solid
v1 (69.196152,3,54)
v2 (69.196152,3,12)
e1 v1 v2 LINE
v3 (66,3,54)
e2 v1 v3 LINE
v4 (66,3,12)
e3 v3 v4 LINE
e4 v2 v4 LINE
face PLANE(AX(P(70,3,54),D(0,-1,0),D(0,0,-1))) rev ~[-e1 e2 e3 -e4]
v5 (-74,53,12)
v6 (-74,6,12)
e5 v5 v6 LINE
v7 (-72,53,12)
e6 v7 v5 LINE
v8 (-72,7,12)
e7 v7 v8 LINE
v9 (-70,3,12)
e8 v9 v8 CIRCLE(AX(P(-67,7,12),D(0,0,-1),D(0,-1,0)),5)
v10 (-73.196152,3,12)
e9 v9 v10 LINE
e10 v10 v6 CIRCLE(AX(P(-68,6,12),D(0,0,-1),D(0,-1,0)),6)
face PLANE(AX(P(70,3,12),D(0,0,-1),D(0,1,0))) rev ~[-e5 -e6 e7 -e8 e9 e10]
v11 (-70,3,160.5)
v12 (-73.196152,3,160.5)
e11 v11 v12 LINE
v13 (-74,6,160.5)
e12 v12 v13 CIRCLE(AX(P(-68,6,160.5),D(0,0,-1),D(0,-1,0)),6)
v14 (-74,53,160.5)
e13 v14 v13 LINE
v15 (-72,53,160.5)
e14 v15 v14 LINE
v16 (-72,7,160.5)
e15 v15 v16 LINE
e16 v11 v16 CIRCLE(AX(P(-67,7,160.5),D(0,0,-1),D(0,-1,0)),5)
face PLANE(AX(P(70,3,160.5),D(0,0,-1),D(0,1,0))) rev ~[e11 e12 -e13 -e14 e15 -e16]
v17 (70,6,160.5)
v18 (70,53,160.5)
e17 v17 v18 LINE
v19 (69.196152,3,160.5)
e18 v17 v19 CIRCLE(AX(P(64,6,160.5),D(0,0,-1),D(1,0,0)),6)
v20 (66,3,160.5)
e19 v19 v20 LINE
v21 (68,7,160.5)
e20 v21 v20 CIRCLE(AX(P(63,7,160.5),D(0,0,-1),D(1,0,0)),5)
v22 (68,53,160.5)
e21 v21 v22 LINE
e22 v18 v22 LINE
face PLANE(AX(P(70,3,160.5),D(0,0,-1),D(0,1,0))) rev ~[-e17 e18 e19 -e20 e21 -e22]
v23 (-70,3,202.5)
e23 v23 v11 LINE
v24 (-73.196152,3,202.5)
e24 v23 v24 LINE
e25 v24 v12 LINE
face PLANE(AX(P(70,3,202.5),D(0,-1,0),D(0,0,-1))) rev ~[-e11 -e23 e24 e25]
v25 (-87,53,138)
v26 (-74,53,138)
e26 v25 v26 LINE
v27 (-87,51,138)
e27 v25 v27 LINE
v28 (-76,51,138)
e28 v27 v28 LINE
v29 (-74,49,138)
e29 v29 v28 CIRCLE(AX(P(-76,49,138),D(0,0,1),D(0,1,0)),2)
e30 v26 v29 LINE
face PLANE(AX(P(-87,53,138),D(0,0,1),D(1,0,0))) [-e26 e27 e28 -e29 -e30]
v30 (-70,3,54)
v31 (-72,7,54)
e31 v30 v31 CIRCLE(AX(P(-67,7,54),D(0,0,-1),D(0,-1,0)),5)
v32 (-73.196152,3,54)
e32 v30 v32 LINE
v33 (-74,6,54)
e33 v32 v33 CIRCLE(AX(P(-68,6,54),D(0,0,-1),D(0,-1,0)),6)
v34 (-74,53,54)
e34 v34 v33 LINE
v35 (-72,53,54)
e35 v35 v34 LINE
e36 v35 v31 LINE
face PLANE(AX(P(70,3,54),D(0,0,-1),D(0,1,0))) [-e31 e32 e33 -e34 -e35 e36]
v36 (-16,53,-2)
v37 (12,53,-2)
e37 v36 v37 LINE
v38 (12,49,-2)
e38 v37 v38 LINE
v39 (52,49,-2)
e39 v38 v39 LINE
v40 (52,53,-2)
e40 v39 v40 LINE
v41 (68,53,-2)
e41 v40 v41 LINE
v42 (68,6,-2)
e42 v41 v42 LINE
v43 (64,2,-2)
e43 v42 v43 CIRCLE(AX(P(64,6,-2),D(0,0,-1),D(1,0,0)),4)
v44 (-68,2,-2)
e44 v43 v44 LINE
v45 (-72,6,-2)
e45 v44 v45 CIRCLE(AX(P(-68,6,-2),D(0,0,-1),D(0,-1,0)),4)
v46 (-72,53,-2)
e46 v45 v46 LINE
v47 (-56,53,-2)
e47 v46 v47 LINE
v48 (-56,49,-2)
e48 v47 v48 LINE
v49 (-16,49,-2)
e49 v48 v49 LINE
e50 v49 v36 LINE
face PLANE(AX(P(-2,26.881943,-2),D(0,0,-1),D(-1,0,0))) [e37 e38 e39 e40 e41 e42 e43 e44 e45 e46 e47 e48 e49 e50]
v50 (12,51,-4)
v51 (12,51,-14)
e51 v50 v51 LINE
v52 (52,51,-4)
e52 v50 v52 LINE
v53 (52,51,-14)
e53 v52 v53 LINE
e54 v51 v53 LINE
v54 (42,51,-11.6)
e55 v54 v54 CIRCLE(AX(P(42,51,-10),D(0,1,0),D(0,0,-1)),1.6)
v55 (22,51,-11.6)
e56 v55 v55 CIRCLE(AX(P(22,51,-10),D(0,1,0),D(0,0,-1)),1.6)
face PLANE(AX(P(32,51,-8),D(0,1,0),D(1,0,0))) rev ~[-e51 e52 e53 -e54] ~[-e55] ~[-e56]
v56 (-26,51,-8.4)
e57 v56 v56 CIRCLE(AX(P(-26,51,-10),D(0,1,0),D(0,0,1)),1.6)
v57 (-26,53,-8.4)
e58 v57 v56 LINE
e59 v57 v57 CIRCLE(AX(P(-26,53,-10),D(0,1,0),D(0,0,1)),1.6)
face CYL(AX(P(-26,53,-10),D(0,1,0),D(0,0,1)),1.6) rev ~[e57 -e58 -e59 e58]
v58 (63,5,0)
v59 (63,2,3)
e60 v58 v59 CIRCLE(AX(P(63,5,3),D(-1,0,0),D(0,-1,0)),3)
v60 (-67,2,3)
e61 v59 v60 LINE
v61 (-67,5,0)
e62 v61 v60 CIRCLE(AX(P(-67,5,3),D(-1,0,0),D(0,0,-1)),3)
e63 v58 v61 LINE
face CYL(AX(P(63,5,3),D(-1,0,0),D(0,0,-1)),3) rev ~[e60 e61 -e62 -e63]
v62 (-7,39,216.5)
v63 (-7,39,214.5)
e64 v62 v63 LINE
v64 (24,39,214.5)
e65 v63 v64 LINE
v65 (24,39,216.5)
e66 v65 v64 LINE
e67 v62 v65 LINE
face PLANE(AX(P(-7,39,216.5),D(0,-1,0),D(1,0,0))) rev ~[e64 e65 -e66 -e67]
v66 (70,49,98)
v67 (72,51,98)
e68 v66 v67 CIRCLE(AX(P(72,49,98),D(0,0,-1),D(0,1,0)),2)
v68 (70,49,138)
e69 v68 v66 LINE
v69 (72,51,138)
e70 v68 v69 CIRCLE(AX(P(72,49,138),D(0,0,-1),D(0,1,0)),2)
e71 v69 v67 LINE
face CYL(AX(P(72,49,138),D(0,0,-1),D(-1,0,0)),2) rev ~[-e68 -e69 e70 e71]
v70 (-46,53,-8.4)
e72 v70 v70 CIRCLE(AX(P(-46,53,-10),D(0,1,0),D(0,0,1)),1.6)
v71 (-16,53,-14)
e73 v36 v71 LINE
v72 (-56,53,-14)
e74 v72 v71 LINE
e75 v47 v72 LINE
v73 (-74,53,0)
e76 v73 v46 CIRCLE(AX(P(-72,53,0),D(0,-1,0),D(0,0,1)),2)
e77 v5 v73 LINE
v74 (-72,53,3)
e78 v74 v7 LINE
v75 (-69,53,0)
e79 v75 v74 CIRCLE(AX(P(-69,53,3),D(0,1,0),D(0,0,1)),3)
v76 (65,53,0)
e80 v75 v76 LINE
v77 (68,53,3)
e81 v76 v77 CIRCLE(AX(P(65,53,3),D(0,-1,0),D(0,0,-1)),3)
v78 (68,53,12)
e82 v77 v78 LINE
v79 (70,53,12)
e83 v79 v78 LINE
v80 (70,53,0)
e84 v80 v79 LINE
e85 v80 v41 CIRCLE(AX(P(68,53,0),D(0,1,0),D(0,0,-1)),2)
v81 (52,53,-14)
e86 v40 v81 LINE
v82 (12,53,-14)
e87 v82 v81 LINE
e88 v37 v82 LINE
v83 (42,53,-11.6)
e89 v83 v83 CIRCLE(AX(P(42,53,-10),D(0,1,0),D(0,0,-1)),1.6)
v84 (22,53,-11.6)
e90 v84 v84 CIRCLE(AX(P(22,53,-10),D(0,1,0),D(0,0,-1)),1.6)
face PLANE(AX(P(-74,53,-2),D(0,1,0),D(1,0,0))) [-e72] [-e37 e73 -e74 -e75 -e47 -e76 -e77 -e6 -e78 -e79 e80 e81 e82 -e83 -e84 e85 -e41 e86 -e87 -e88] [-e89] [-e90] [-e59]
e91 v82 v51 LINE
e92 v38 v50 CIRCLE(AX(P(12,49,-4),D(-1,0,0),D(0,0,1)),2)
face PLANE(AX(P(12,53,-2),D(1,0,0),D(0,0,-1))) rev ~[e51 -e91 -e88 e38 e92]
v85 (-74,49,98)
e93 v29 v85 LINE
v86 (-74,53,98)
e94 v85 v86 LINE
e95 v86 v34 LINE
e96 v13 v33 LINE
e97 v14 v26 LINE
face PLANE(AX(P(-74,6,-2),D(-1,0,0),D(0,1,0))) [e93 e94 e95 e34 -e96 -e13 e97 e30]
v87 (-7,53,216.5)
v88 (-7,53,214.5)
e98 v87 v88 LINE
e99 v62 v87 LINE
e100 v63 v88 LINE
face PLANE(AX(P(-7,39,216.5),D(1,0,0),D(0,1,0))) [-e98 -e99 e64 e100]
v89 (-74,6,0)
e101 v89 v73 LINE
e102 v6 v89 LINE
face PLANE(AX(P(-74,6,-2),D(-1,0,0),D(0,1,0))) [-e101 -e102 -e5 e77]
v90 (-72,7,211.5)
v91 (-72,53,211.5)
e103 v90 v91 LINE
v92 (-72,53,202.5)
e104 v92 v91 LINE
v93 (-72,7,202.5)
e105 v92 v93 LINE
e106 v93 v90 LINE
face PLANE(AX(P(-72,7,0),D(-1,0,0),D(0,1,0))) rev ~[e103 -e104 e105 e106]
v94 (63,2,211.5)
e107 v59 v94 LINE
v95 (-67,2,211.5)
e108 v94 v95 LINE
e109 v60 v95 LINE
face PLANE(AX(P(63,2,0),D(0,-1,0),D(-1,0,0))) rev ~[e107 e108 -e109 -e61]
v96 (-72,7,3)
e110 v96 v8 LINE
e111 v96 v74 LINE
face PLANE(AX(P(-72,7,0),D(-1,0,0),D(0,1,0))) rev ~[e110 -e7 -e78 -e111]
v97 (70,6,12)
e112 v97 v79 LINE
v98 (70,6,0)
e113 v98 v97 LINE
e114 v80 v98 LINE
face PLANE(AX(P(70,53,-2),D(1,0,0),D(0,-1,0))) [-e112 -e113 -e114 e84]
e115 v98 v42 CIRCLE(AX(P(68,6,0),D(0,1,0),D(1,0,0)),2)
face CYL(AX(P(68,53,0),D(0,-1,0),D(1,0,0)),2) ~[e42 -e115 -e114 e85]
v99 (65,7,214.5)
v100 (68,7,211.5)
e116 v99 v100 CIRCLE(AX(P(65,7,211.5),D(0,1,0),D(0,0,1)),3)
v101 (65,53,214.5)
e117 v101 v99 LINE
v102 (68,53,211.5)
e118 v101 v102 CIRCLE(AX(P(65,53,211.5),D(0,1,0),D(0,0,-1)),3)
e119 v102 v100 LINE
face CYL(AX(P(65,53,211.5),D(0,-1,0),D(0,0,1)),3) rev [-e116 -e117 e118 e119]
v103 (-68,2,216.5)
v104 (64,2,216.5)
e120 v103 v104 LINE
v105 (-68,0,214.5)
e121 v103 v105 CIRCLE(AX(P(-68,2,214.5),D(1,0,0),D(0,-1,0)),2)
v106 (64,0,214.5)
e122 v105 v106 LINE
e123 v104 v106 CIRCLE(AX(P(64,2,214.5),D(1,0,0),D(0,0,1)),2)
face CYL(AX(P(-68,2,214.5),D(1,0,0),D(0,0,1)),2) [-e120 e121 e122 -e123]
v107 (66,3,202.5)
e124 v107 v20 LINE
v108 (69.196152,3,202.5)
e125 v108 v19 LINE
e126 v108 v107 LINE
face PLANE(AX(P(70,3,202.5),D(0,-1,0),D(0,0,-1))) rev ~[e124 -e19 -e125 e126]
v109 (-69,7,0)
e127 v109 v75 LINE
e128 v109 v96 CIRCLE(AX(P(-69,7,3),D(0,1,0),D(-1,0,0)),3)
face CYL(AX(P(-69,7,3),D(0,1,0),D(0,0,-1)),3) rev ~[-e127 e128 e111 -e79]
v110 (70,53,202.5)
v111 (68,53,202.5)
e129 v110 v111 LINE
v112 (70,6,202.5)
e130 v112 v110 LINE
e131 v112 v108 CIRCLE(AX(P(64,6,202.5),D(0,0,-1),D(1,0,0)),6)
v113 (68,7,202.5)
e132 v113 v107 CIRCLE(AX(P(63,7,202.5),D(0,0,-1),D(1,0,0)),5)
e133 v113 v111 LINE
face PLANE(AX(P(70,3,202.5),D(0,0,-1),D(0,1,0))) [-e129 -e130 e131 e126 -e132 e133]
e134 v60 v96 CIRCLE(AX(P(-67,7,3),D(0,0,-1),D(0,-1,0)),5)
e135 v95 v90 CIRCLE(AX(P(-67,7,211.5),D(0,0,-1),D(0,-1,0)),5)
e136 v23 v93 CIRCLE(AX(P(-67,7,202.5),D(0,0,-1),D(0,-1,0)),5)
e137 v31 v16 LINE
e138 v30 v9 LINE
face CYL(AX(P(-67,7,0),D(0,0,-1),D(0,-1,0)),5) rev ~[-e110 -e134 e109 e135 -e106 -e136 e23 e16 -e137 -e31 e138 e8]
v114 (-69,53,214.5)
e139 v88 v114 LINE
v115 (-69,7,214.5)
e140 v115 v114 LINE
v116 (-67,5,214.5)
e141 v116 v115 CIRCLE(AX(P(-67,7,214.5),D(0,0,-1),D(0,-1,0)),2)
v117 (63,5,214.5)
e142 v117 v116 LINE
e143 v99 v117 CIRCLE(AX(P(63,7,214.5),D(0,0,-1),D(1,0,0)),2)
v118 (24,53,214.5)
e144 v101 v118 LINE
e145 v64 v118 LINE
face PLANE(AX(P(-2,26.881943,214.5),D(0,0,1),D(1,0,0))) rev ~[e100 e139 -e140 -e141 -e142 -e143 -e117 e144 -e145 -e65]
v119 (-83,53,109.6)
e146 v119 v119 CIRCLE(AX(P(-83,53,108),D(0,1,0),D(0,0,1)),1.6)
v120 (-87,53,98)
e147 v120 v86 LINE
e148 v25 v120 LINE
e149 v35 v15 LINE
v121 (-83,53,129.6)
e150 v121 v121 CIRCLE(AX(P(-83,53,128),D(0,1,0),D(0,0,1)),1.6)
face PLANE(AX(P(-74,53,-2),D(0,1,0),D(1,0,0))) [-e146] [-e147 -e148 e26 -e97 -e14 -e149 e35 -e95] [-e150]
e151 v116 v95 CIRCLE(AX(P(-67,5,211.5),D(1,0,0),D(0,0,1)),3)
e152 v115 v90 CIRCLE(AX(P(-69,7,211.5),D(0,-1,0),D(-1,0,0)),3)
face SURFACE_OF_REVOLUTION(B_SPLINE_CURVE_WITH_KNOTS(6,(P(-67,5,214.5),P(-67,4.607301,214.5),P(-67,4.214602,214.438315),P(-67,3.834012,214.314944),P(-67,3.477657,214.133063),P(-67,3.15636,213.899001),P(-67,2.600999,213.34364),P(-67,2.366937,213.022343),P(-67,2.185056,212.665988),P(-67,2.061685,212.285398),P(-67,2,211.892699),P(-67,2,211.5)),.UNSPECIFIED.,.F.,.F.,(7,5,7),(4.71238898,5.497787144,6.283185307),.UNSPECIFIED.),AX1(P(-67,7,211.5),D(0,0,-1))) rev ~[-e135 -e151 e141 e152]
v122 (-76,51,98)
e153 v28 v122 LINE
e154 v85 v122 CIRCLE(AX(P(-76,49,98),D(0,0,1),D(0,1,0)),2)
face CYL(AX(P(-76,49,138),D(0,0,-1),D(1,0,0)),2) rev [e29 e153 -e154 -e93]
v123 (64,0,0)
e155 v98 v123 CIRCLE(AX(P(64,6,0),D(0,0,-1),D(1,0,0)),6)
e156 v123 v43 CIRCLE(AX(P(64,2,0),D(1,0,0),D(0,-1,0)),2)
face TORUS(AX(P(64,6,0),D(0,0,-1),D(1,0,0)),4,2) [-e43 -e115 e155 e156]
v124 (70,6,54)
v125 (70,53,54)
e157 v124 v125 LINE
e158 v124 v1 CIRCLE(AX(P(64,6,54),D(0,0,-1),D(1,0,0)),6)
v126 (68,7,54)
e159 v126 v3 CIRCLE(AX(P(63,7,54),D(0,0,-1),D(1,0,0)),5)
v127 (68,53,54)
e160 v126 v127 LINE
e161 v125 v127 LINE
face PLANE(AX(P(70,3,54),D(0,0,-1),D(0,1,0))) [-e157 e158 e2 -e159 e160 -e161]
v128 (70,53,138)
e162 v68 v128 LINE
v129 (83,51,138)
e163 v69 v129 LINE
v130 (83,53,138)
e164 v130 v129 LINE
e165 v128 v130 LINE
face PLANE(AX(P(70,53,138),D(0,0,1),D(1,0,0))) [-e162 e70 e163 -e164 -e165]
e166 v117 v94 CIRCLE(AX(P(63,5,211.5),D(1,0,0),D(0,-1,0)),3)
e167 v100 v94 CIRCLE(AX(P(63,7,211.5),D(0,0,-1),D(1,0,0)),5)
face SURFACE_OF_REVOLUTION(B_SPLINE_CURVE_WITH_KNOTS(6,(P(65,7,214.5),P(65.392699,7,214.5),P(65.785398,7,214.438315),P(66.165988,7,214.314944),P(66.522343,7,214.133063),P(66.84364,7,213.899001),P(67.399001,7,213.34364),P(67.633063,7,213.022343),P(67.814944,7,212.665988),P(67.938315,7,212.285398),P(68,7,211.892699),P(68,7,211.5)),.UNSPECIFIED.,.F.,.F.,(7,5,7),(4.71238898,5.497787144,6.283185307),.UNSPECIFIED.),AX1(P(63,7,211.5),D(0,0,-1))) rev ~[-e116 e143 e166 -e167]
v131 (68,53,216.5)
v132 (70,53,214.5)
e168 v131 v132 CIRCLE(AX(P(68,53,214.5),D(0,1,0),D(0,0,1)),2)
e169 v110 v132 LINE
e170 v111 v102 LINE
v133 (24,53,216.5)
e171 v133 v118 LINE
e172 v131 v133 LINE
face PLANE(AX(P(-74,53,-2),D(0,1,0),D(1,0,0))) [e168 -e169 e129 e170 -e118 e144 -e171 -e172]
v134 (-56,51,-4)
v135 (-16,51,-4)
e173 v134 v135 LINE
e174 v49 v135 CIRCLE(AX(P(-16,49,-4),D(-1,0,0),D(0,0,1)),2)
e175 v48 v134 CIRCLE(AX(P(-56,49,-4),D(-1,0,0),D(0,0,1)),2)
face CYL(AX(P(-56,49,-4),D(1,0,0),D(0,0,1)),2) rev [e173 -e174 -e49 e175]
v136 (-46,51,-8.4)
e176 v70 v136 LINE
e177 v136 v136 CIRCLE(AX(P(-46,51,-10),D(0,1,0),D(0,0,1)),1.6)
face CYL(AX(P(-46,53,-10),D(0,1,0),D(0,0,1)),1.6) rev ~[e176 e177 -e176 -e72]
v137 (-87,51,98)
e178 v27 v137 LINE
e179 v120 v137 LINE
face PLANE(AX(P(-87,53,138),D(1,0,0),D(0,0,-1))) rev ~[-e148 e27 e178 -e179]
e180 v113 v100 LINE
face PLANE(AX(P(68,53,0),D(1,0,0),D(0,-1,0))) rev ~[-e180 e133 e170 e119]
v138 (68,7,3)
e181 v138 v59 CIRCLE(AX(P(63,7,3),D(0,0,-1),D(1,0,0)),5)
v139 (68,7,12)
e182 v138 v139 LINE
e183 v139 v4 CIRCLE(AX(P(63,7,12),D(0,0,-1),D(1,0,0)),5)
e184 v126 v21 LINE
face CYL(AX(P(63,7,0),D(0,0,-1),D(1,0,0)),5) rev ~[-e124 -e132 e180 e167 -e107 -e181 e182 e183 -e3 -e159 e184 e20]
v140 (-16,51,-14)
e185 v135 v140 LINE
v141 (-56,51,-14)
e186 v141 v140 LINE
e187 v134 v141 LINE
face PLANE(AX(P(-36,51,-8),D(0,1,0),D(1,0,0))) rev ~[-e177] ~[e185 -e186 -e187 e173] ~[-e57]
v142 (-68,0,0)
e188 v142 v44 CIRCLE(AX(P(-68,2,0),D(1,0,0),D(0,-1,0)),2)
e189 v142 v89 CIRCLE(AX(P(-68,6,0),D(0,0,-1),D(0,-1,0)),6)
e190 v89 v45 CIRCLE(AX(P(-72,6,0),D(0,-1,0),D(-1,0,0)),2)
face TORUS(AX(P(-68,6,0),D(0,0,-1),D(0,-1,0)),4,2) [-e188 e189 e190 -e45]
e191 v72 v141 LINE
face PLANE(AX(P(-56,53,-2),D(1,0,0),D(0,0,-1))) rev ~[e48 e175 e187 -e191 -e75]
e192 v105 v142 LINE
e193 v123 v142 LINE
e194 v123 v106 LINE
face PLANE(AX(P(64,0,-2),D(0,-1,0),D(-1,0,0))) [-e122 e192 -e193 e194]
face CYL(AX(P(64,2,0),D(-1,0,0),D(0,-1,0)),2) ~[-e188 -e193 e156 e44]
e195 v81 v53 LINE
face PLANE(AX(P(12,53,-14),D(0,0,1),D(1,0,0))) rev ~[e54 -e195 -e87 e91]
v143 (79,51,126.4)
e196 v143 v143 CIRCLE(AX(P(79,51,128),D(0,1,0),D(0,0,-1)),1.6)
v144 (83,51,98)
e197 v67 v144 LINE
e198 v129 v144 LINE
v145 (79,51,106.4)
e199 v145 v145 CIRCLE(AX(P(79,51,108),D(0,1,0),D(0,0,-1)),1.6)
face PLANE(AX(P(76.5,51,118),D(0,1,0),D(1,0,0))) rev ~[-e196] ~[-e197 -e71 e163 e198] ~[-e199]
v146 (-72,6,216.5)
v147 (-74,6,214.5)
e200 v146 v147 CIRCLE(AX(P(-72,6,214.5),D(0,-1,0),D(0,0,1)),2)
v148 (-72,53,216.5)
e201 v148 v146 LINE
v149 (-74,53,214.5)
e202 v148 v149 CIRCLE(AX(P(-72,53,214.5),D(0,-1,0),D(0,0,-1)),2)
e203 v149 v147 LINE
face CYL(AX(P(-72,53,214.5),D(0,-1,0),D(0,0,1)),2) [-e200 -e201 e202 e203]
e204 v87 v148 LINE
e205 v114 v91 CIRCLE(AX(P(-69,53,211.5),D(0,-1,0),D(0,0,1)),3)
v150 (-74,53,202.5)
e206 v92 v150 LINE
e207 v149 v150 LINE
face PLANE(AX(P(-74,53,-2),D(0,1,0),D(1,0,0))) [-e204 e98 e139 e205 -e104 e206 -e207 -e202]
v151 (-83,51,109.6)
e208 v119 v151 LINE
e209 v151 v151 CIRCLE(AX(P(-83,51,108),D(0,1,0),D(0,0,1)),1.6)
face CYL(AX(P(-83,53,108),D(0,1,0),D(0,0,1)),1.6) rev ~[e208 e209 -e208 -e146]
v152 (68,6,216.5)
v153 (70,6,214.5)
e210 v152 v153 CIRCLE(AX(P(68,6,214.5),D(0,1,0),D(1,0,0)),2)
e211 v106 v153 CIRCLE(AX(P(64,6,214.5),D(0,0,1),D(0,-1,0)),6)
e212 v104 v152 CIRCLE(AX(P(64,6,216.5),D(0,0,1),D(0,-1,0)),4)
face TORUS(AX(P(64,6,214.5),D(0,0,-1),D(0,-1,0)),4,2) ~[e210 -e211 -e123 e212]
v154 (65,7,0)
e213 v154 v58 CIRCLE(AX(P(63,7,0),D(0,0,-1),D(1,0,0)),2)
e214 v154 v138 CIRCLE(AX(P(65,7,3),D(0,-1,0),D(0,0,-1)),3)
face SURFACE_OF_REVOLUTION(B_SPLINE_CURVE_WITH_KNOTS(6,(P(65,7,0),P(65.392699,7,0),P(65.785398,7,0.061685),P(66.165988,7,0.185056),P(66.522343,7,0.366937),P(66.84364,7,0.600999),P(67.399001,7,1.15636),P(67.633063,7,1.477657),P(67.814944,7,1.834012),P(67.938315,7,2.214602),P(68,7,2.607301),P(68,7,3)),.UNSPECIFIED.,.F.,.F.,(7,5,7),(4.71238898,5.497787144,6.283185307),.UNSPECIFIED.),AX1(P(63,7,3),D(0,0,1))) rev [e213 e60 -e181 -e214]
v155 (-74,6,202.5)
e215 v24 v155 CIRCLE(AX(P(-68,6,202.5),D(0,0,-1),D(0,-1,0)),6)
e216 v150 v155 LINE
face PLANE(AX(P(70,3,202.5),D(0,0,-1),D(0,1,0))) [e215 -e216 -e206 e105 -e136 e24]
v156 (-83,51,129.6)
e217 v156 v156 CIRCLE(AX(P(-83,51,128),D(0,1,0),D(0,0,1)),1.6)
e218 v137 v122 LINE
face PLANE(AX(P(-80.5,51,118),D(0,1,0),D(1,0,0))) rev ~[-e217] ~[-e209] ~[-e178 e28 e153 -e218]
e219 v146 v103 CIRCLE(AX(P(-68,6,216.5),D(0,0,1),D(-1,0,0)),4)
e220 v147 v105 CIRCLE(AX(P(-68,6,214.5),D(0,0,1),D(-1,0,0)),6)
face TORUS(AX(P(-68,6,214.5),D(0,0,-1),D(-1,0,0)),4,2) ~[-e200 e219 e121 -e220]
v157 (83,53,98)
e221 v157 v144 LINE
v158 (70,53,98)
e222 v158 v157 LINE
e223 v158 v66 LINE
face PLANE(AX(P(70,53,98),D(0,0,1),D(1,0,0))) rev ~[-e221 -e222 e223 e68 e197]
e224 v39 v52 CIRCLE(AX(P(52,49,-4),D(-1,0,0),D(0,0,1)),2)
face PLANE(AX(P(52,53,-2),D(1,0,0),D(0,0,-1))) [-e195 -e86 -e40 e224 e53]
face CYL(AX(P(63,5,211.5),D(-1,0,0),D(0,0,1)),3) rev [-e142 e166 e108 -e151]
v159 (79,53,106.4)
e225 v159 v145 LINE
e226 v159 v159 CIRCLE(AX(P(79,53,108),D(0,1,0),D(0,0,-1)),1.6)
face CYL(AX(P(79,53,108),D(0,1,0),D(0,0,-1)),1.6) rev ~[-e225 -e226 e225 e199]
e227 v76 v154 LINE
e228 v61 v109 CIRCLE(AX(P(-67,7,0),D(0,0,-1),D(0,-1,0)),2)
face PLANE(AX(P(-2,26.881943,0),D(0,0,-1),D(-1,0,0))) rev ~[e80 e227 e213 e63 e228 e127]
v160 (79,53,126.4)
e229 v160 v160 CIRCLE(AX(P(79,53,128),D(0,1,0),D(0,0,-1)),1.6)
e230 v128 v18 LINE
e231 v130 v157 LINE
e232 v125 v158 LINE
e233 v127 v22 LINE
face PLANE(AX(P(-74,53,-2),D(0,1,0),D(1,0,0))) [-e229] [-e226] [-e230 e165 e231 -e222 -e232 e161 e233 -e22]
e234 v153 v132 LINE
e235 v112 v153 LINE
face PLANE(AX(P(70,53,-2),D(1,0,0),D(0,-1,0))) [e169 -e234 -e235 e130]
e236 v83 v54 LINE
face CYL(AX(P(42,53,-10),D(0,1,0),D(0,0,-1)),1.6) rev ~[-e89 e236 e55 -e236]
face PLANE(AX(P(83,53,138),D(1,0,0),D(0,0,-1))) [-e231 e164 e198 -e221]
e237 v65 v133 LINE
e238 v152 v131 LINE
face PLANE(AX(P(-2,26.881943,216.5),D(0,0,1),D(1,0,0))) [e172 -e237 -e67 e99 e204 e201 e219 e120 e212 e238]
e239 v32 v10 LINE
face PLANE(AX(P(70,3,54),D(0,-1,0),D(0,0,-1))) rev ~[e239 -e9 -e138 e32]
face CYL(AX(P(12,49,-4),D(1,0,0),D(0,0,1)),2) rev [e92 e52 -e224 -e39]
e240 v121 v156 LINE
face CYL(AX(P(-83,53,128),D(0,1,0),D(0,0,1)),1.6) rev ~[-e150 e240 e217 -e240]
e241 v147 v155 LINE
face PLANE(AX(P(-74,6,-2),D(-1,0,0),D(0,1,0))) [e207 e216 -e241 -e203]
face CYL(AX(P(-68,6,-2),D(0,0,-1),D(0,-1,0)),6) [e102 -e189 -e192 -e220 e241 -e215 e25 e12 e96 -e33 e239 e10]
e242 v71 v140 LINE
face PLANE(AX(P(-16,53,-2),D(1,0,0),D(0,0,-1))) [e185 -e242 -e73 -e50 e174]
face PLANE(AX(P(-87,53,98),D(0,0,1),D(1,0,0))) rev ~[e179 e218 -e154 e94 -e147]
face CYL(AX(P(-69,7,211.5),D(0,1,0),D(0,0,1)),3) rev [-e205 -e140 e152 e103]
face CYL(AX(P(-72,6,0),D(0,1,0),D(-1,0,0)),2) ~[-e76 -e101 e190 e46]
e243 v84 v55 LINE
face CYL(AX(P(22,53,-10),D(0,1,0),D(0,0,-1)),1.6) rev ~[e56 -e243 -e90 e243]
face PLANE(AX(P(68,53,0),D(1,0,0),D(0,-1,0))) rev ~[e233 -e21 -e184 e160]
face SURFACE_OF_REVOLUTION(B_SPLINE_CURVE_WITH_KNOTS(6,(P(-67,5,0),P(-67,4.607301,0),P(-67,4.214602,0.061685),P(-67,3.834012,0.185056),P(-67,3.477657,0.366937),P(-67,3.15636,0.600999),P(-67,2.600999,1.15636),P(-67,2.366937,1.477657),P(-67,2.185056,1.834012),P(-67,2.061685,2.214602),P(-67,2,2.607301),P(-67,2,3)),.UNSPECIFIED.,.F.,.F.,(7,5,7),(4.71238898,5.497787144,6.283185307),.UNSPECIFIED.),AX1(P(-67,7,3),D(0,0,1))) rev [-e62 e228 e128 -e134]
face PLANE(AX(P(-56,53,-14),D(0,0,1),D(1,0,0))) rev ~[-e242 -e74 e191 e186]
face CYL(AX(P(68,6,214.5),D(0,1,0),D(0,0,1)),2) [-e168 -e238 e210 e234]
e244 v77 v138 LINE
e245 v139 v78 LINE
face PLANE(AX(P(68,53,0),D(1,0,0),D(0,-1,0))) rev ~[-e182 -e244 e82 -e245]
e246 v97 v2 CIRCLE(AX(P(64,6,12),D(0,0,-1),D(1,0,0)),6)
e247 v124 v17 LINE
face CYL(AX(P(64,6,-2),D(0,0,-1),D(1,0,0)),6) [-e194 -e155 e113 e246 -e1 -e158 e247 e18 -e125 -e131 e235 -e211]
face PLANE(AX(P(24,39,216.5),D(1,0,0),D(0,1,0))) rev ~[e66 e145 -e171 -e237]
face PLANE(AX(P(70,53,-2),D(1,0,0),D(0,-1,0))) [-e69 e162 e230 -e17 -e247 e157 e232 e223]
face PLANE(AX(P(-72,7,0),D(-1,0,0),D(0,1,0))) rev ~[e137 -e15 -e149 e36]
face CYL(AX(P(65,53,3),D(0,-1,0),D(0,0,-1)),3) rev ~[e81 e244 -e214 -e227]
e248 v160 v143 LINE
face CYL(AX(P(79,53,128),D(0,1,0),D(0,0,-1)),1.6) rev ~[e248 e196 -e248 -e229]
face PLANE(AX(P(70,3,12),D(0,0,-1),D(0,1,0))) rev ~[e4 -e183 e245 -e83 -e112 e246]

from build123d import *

# Parameters (mm, degrees)
EXTRUDE_1_DEPTH     = 214.5
EXTRUDE_2_DEPTH     = 2
EXTRUDE_START       = 2
EXTRUDE_3_DEPTH     = 2
FILLET_2_R          = 3
FILLET_3_R          = 3
SKETCH_6_W          = 40
SKETCH_6_H          = 12
SKETCH_6_R          = 1.6
SKETCH_6_W_2        = 13
SKETCH_6_H_2        = 40
EXTRUDE_4_DEPTH     = 2
SKETCH_8_W          = 31
SKETCH_8_H          = 14
CUT_EXTRUDE_2_DEPTH = 10
FILLET_4_R          = 2
FILLET_5_R          = 2
SKETCH_9_W          = 42
SKETCH_9_H          = 50
CUT_EXTRUDE_3_DEPTH = 273.635746006
SKETCH_10_W         = 42
SKETCH_10_H         = 50
CUT_EXTRUDE_4_DEPTH = 273.635746006


with BuildPart() as part:
    # 草图1 → 凸台-拉伸1 (new body)
    with BuildSketch(Plane.XY):
        with BuildLine():
            Line((-68, 0), (64, 0))
            ThreePointArc((64, 0), (68.242640687, 1.757359313), (70, 6))
            Line((70, 6), (70, 53))
            Line((70, 53), (68, 53))
            Line((68, 53), (68, 7))
            ThreePointArc((68, 7), (66.535533906, 3.464466094), (63, 2))
            Line((63, 2), (-67, 2))
            ThreePointArc((-67, 2), (-70.535533906, 3.464466094), (-72, 7))
            Line((-72, 7), (-72, 53))
            Line((-72, 53), (-74, 53))
            Line((-74, 53), (-74, 6))
            ThreePointArc((-74, 6), (-72.242640687, 1.757359313), (-68, 0))
        make_face()
    extrude(amount=EXTRUDE_1_DEPTH)

    # 草图2 → 凸台-拉伸2 (add)
    with BuildSketch(Plane.XY.offset(214.5)):
        with BuildLine():
            Line((-68, 0), (64, 0))
            ThreePointArc((64, 0), (68.242640687, 1.757359313), (70, 6))
            Line((70, 6), (70, 53))
            Line((70, 53), (-74, 53))
            Line((-74, 53), (-74, 6))
            ThreePointArc((-74, 6), (-72.242640687, 1.757359313), (-68, 0))
        make_face()
    extrude(amount=EXTRUDE_2_DEPTH)

    # 草图3 → 凸台-拉伸3 (add)
    with BuildSketch(Plane(origin=(0, 0, 0), x_dir=(-1, 0, 0), z_dir=(0, 0, -1)).offset(EXTRUDE_START)):
        with BuildLine():
            Line((-64, 0), (68, 0))
            ThreePointArc((68, 0), (72.242640687, 1.757359313), (74, 6))
            Line((74, 6), (74, 53))
            Line((74, 53), (-70, 53))
            Line((-70, 53), (-70, 6))
            ThreePointArc((-70, 6), (-68.242640687, 1.757359313), (-64, 0))
        make_face()
    extrude(amount=-EXTRUDE_3_DEPTH)

    # 圆角2
    fillet_2_edges = [part.edges().sort_by_distance(p)[0] for p in [
        (68, 30, 214.5),
        (66.535533906, 3.464466094, 214.5),
        (-2, 2, 214.5),
        (-70.535533906, 3.464466094, 214.5),
        (-72, 30, 214.5),
    ]]
    fillet(fillet_2_edges, radius=FILLET_2_R)

    # 圆角3
    fillet_3_edges = [part.edges().sort_by_distance(p)[0] for p in [
        (-72, 30, 0),
        (-70.535533906, 3.464466094, 0),
        (-2, 2, 0),
        (66.535533906, 3.464466094, 0),
        (68, 30, 0),
    ]]
    fillet(fillet_3_edges, radius=FILLET_3_R)

    # 草图6 → 凸台-拉伸4 (add)
    # profile 1 of 4: a face of its own
    with BuildSketch(Plane(origin=(0, 53, 0), x_dir=(1, 0, 0), z_dir=(0, 1, 0))):
        with Locations((-36, 8)):
            Rectangle(SKETCH_6_W, SKETCH_6_H)
        with Locations(Location((-46, 10, 0), (0, 0, 270))):
            Circle(SKETCH_6_R, mode=Mode.SUBTRACT)
        with Locations(Location((-26, 10, 0), (0, 0, 270))):
            Circle(SKETCH_6_R, mode=Mode.SUBTRACT)
    # profile 2 of 4: a face of its own
    with BuildSketch(Plane(origin=(0, 53, 0), x_dir=(1, 0, 0), z_dir=(0, 1, 0))):
        with Locations((-80.5, -118)):
            Rectangle(SKETCH_6_W_2, SKETCH_6_H_2)
        with Locations(Location((-83, -108, 0), (0, 0, 270))):
            Circle(SKETCH_6_R, mode=Mode.SUBTRACT)
        with Locations(Location((-83, -128, 0), (0, 0, 270))):
            Circle(SKETCH_6_R, mode=Mode.SUBTRACT)
    # profile 3 of 4: a face of its own
    with BuildSketch(Plane(origin=(0, 53, 0), x_dir=(1, 0, 0), z_dir=(0, 1, 0))):
        with Locations((76.5, -118)):
            Rectangle(SKETCH_6_W_2, SKETCH_6_H_2)
        with Locations(Location((79, -128, 0), (0, 0, 90))):
            Circle(SKETCH_6_R, mode=Mode.SUBTRACT)
        with Locations(Location((79, -108, 0), (0, 0, 90))):
            Circle(SKETCH_6_R, mode=Mode.SUBTRACT)
    # profile 4 of 4: a face of its own
    with BuildSketch(Plane(origin=(0, 53, 0), x_dir=(1, 0, 0), z_dir=(0, 1, 0))):
        with Locations((32, 8)):
            Rectangle(SKETCH_6_W, SKETCH_6_H)
        with Locations(Location((42, 10, 0), (0, 0, 90))):
            Circle(SKETCH_6_R, mode=Mode.SUBTRACT)
        with Locations(Location((22, 10, 0), (0, 0, 90))):
            Circle(SKETCH_6_R, mode=Mode.SUBTRACT)
    extrude(amount=-EXTRUDE_4_DEPTH)

    # 草图8 → 切除-拉伸2 (cut)
    with BuildSketch(Plane.XY.offset(216.5)):
        with Locations((8.5, 46)):
            Rectangle(SKETCH_8_W, SKETCH_8_H)
    extrude(amount=-CUT_EXTRUDE_2_DEPTH, mode=Mode.SUBTRACT)

    # 圆角4
    fillet_4_edges = [part.edges().sort_by_distance(p)[0] for p in [
        (-36, 51, -2),
        (32, 51, -2),
        (-74, 51, 118),
        (70, 51, 118),
    ]]
    fillet(fillet_4_edges, radius=FILLET_4_R)

    # 圆角5
    fillet_5_edges = [part.edges().sort_by_distance(p)[0] for p in [
        (70, 29.5, 216.5),
        (-74, 29.5, 216.5),
        (-72.242640687, 1.757359313, 216.5),
        (-2, 0, 216.5),
        (68.242640687, 1.757359313, 216.5),
        (-74, 29.5, -2),
        (70, 29.5, -2),
        (68.242640687, 1.757359313, -2),
        (-2, 0, -2),
        (-72.242640687, 1.757359313, -2),
    ]]
    fillet(fillet_5_edges, radius=FILLET_5_R)

    # 草图9 → 切除-拉伸3 (cut, through all)
    with BuildSketch(Plane(origin=(70, 0, 0), x_dir=(0, 0, -1), z_dir=(1, 0, 0))):
        with Locations((-181.5, 28)):
            Rectangle(SKETCH_9_W, SKETCH_9_H)
    extrude(amount=-CUT_EXTRUDE_3_DEPTH, mode=Mode.SUBTRACT)

    # 草图10 → 切除-拉伸4 (cut, through all)
    with BuildSketch(Plane(origin=(70, 0, 0), x_dir=(0, 0, -1), z_dir=(1, 0, 0))):
        with Locations((-33, 28)):
            Rectangle(SKETCH_10_W, SKETCH_10_H)
    extrude(amount=-CUT_EXTRUDE_4_DEPTH, mode=Mode.SUBTRACT)


solid = part.part
